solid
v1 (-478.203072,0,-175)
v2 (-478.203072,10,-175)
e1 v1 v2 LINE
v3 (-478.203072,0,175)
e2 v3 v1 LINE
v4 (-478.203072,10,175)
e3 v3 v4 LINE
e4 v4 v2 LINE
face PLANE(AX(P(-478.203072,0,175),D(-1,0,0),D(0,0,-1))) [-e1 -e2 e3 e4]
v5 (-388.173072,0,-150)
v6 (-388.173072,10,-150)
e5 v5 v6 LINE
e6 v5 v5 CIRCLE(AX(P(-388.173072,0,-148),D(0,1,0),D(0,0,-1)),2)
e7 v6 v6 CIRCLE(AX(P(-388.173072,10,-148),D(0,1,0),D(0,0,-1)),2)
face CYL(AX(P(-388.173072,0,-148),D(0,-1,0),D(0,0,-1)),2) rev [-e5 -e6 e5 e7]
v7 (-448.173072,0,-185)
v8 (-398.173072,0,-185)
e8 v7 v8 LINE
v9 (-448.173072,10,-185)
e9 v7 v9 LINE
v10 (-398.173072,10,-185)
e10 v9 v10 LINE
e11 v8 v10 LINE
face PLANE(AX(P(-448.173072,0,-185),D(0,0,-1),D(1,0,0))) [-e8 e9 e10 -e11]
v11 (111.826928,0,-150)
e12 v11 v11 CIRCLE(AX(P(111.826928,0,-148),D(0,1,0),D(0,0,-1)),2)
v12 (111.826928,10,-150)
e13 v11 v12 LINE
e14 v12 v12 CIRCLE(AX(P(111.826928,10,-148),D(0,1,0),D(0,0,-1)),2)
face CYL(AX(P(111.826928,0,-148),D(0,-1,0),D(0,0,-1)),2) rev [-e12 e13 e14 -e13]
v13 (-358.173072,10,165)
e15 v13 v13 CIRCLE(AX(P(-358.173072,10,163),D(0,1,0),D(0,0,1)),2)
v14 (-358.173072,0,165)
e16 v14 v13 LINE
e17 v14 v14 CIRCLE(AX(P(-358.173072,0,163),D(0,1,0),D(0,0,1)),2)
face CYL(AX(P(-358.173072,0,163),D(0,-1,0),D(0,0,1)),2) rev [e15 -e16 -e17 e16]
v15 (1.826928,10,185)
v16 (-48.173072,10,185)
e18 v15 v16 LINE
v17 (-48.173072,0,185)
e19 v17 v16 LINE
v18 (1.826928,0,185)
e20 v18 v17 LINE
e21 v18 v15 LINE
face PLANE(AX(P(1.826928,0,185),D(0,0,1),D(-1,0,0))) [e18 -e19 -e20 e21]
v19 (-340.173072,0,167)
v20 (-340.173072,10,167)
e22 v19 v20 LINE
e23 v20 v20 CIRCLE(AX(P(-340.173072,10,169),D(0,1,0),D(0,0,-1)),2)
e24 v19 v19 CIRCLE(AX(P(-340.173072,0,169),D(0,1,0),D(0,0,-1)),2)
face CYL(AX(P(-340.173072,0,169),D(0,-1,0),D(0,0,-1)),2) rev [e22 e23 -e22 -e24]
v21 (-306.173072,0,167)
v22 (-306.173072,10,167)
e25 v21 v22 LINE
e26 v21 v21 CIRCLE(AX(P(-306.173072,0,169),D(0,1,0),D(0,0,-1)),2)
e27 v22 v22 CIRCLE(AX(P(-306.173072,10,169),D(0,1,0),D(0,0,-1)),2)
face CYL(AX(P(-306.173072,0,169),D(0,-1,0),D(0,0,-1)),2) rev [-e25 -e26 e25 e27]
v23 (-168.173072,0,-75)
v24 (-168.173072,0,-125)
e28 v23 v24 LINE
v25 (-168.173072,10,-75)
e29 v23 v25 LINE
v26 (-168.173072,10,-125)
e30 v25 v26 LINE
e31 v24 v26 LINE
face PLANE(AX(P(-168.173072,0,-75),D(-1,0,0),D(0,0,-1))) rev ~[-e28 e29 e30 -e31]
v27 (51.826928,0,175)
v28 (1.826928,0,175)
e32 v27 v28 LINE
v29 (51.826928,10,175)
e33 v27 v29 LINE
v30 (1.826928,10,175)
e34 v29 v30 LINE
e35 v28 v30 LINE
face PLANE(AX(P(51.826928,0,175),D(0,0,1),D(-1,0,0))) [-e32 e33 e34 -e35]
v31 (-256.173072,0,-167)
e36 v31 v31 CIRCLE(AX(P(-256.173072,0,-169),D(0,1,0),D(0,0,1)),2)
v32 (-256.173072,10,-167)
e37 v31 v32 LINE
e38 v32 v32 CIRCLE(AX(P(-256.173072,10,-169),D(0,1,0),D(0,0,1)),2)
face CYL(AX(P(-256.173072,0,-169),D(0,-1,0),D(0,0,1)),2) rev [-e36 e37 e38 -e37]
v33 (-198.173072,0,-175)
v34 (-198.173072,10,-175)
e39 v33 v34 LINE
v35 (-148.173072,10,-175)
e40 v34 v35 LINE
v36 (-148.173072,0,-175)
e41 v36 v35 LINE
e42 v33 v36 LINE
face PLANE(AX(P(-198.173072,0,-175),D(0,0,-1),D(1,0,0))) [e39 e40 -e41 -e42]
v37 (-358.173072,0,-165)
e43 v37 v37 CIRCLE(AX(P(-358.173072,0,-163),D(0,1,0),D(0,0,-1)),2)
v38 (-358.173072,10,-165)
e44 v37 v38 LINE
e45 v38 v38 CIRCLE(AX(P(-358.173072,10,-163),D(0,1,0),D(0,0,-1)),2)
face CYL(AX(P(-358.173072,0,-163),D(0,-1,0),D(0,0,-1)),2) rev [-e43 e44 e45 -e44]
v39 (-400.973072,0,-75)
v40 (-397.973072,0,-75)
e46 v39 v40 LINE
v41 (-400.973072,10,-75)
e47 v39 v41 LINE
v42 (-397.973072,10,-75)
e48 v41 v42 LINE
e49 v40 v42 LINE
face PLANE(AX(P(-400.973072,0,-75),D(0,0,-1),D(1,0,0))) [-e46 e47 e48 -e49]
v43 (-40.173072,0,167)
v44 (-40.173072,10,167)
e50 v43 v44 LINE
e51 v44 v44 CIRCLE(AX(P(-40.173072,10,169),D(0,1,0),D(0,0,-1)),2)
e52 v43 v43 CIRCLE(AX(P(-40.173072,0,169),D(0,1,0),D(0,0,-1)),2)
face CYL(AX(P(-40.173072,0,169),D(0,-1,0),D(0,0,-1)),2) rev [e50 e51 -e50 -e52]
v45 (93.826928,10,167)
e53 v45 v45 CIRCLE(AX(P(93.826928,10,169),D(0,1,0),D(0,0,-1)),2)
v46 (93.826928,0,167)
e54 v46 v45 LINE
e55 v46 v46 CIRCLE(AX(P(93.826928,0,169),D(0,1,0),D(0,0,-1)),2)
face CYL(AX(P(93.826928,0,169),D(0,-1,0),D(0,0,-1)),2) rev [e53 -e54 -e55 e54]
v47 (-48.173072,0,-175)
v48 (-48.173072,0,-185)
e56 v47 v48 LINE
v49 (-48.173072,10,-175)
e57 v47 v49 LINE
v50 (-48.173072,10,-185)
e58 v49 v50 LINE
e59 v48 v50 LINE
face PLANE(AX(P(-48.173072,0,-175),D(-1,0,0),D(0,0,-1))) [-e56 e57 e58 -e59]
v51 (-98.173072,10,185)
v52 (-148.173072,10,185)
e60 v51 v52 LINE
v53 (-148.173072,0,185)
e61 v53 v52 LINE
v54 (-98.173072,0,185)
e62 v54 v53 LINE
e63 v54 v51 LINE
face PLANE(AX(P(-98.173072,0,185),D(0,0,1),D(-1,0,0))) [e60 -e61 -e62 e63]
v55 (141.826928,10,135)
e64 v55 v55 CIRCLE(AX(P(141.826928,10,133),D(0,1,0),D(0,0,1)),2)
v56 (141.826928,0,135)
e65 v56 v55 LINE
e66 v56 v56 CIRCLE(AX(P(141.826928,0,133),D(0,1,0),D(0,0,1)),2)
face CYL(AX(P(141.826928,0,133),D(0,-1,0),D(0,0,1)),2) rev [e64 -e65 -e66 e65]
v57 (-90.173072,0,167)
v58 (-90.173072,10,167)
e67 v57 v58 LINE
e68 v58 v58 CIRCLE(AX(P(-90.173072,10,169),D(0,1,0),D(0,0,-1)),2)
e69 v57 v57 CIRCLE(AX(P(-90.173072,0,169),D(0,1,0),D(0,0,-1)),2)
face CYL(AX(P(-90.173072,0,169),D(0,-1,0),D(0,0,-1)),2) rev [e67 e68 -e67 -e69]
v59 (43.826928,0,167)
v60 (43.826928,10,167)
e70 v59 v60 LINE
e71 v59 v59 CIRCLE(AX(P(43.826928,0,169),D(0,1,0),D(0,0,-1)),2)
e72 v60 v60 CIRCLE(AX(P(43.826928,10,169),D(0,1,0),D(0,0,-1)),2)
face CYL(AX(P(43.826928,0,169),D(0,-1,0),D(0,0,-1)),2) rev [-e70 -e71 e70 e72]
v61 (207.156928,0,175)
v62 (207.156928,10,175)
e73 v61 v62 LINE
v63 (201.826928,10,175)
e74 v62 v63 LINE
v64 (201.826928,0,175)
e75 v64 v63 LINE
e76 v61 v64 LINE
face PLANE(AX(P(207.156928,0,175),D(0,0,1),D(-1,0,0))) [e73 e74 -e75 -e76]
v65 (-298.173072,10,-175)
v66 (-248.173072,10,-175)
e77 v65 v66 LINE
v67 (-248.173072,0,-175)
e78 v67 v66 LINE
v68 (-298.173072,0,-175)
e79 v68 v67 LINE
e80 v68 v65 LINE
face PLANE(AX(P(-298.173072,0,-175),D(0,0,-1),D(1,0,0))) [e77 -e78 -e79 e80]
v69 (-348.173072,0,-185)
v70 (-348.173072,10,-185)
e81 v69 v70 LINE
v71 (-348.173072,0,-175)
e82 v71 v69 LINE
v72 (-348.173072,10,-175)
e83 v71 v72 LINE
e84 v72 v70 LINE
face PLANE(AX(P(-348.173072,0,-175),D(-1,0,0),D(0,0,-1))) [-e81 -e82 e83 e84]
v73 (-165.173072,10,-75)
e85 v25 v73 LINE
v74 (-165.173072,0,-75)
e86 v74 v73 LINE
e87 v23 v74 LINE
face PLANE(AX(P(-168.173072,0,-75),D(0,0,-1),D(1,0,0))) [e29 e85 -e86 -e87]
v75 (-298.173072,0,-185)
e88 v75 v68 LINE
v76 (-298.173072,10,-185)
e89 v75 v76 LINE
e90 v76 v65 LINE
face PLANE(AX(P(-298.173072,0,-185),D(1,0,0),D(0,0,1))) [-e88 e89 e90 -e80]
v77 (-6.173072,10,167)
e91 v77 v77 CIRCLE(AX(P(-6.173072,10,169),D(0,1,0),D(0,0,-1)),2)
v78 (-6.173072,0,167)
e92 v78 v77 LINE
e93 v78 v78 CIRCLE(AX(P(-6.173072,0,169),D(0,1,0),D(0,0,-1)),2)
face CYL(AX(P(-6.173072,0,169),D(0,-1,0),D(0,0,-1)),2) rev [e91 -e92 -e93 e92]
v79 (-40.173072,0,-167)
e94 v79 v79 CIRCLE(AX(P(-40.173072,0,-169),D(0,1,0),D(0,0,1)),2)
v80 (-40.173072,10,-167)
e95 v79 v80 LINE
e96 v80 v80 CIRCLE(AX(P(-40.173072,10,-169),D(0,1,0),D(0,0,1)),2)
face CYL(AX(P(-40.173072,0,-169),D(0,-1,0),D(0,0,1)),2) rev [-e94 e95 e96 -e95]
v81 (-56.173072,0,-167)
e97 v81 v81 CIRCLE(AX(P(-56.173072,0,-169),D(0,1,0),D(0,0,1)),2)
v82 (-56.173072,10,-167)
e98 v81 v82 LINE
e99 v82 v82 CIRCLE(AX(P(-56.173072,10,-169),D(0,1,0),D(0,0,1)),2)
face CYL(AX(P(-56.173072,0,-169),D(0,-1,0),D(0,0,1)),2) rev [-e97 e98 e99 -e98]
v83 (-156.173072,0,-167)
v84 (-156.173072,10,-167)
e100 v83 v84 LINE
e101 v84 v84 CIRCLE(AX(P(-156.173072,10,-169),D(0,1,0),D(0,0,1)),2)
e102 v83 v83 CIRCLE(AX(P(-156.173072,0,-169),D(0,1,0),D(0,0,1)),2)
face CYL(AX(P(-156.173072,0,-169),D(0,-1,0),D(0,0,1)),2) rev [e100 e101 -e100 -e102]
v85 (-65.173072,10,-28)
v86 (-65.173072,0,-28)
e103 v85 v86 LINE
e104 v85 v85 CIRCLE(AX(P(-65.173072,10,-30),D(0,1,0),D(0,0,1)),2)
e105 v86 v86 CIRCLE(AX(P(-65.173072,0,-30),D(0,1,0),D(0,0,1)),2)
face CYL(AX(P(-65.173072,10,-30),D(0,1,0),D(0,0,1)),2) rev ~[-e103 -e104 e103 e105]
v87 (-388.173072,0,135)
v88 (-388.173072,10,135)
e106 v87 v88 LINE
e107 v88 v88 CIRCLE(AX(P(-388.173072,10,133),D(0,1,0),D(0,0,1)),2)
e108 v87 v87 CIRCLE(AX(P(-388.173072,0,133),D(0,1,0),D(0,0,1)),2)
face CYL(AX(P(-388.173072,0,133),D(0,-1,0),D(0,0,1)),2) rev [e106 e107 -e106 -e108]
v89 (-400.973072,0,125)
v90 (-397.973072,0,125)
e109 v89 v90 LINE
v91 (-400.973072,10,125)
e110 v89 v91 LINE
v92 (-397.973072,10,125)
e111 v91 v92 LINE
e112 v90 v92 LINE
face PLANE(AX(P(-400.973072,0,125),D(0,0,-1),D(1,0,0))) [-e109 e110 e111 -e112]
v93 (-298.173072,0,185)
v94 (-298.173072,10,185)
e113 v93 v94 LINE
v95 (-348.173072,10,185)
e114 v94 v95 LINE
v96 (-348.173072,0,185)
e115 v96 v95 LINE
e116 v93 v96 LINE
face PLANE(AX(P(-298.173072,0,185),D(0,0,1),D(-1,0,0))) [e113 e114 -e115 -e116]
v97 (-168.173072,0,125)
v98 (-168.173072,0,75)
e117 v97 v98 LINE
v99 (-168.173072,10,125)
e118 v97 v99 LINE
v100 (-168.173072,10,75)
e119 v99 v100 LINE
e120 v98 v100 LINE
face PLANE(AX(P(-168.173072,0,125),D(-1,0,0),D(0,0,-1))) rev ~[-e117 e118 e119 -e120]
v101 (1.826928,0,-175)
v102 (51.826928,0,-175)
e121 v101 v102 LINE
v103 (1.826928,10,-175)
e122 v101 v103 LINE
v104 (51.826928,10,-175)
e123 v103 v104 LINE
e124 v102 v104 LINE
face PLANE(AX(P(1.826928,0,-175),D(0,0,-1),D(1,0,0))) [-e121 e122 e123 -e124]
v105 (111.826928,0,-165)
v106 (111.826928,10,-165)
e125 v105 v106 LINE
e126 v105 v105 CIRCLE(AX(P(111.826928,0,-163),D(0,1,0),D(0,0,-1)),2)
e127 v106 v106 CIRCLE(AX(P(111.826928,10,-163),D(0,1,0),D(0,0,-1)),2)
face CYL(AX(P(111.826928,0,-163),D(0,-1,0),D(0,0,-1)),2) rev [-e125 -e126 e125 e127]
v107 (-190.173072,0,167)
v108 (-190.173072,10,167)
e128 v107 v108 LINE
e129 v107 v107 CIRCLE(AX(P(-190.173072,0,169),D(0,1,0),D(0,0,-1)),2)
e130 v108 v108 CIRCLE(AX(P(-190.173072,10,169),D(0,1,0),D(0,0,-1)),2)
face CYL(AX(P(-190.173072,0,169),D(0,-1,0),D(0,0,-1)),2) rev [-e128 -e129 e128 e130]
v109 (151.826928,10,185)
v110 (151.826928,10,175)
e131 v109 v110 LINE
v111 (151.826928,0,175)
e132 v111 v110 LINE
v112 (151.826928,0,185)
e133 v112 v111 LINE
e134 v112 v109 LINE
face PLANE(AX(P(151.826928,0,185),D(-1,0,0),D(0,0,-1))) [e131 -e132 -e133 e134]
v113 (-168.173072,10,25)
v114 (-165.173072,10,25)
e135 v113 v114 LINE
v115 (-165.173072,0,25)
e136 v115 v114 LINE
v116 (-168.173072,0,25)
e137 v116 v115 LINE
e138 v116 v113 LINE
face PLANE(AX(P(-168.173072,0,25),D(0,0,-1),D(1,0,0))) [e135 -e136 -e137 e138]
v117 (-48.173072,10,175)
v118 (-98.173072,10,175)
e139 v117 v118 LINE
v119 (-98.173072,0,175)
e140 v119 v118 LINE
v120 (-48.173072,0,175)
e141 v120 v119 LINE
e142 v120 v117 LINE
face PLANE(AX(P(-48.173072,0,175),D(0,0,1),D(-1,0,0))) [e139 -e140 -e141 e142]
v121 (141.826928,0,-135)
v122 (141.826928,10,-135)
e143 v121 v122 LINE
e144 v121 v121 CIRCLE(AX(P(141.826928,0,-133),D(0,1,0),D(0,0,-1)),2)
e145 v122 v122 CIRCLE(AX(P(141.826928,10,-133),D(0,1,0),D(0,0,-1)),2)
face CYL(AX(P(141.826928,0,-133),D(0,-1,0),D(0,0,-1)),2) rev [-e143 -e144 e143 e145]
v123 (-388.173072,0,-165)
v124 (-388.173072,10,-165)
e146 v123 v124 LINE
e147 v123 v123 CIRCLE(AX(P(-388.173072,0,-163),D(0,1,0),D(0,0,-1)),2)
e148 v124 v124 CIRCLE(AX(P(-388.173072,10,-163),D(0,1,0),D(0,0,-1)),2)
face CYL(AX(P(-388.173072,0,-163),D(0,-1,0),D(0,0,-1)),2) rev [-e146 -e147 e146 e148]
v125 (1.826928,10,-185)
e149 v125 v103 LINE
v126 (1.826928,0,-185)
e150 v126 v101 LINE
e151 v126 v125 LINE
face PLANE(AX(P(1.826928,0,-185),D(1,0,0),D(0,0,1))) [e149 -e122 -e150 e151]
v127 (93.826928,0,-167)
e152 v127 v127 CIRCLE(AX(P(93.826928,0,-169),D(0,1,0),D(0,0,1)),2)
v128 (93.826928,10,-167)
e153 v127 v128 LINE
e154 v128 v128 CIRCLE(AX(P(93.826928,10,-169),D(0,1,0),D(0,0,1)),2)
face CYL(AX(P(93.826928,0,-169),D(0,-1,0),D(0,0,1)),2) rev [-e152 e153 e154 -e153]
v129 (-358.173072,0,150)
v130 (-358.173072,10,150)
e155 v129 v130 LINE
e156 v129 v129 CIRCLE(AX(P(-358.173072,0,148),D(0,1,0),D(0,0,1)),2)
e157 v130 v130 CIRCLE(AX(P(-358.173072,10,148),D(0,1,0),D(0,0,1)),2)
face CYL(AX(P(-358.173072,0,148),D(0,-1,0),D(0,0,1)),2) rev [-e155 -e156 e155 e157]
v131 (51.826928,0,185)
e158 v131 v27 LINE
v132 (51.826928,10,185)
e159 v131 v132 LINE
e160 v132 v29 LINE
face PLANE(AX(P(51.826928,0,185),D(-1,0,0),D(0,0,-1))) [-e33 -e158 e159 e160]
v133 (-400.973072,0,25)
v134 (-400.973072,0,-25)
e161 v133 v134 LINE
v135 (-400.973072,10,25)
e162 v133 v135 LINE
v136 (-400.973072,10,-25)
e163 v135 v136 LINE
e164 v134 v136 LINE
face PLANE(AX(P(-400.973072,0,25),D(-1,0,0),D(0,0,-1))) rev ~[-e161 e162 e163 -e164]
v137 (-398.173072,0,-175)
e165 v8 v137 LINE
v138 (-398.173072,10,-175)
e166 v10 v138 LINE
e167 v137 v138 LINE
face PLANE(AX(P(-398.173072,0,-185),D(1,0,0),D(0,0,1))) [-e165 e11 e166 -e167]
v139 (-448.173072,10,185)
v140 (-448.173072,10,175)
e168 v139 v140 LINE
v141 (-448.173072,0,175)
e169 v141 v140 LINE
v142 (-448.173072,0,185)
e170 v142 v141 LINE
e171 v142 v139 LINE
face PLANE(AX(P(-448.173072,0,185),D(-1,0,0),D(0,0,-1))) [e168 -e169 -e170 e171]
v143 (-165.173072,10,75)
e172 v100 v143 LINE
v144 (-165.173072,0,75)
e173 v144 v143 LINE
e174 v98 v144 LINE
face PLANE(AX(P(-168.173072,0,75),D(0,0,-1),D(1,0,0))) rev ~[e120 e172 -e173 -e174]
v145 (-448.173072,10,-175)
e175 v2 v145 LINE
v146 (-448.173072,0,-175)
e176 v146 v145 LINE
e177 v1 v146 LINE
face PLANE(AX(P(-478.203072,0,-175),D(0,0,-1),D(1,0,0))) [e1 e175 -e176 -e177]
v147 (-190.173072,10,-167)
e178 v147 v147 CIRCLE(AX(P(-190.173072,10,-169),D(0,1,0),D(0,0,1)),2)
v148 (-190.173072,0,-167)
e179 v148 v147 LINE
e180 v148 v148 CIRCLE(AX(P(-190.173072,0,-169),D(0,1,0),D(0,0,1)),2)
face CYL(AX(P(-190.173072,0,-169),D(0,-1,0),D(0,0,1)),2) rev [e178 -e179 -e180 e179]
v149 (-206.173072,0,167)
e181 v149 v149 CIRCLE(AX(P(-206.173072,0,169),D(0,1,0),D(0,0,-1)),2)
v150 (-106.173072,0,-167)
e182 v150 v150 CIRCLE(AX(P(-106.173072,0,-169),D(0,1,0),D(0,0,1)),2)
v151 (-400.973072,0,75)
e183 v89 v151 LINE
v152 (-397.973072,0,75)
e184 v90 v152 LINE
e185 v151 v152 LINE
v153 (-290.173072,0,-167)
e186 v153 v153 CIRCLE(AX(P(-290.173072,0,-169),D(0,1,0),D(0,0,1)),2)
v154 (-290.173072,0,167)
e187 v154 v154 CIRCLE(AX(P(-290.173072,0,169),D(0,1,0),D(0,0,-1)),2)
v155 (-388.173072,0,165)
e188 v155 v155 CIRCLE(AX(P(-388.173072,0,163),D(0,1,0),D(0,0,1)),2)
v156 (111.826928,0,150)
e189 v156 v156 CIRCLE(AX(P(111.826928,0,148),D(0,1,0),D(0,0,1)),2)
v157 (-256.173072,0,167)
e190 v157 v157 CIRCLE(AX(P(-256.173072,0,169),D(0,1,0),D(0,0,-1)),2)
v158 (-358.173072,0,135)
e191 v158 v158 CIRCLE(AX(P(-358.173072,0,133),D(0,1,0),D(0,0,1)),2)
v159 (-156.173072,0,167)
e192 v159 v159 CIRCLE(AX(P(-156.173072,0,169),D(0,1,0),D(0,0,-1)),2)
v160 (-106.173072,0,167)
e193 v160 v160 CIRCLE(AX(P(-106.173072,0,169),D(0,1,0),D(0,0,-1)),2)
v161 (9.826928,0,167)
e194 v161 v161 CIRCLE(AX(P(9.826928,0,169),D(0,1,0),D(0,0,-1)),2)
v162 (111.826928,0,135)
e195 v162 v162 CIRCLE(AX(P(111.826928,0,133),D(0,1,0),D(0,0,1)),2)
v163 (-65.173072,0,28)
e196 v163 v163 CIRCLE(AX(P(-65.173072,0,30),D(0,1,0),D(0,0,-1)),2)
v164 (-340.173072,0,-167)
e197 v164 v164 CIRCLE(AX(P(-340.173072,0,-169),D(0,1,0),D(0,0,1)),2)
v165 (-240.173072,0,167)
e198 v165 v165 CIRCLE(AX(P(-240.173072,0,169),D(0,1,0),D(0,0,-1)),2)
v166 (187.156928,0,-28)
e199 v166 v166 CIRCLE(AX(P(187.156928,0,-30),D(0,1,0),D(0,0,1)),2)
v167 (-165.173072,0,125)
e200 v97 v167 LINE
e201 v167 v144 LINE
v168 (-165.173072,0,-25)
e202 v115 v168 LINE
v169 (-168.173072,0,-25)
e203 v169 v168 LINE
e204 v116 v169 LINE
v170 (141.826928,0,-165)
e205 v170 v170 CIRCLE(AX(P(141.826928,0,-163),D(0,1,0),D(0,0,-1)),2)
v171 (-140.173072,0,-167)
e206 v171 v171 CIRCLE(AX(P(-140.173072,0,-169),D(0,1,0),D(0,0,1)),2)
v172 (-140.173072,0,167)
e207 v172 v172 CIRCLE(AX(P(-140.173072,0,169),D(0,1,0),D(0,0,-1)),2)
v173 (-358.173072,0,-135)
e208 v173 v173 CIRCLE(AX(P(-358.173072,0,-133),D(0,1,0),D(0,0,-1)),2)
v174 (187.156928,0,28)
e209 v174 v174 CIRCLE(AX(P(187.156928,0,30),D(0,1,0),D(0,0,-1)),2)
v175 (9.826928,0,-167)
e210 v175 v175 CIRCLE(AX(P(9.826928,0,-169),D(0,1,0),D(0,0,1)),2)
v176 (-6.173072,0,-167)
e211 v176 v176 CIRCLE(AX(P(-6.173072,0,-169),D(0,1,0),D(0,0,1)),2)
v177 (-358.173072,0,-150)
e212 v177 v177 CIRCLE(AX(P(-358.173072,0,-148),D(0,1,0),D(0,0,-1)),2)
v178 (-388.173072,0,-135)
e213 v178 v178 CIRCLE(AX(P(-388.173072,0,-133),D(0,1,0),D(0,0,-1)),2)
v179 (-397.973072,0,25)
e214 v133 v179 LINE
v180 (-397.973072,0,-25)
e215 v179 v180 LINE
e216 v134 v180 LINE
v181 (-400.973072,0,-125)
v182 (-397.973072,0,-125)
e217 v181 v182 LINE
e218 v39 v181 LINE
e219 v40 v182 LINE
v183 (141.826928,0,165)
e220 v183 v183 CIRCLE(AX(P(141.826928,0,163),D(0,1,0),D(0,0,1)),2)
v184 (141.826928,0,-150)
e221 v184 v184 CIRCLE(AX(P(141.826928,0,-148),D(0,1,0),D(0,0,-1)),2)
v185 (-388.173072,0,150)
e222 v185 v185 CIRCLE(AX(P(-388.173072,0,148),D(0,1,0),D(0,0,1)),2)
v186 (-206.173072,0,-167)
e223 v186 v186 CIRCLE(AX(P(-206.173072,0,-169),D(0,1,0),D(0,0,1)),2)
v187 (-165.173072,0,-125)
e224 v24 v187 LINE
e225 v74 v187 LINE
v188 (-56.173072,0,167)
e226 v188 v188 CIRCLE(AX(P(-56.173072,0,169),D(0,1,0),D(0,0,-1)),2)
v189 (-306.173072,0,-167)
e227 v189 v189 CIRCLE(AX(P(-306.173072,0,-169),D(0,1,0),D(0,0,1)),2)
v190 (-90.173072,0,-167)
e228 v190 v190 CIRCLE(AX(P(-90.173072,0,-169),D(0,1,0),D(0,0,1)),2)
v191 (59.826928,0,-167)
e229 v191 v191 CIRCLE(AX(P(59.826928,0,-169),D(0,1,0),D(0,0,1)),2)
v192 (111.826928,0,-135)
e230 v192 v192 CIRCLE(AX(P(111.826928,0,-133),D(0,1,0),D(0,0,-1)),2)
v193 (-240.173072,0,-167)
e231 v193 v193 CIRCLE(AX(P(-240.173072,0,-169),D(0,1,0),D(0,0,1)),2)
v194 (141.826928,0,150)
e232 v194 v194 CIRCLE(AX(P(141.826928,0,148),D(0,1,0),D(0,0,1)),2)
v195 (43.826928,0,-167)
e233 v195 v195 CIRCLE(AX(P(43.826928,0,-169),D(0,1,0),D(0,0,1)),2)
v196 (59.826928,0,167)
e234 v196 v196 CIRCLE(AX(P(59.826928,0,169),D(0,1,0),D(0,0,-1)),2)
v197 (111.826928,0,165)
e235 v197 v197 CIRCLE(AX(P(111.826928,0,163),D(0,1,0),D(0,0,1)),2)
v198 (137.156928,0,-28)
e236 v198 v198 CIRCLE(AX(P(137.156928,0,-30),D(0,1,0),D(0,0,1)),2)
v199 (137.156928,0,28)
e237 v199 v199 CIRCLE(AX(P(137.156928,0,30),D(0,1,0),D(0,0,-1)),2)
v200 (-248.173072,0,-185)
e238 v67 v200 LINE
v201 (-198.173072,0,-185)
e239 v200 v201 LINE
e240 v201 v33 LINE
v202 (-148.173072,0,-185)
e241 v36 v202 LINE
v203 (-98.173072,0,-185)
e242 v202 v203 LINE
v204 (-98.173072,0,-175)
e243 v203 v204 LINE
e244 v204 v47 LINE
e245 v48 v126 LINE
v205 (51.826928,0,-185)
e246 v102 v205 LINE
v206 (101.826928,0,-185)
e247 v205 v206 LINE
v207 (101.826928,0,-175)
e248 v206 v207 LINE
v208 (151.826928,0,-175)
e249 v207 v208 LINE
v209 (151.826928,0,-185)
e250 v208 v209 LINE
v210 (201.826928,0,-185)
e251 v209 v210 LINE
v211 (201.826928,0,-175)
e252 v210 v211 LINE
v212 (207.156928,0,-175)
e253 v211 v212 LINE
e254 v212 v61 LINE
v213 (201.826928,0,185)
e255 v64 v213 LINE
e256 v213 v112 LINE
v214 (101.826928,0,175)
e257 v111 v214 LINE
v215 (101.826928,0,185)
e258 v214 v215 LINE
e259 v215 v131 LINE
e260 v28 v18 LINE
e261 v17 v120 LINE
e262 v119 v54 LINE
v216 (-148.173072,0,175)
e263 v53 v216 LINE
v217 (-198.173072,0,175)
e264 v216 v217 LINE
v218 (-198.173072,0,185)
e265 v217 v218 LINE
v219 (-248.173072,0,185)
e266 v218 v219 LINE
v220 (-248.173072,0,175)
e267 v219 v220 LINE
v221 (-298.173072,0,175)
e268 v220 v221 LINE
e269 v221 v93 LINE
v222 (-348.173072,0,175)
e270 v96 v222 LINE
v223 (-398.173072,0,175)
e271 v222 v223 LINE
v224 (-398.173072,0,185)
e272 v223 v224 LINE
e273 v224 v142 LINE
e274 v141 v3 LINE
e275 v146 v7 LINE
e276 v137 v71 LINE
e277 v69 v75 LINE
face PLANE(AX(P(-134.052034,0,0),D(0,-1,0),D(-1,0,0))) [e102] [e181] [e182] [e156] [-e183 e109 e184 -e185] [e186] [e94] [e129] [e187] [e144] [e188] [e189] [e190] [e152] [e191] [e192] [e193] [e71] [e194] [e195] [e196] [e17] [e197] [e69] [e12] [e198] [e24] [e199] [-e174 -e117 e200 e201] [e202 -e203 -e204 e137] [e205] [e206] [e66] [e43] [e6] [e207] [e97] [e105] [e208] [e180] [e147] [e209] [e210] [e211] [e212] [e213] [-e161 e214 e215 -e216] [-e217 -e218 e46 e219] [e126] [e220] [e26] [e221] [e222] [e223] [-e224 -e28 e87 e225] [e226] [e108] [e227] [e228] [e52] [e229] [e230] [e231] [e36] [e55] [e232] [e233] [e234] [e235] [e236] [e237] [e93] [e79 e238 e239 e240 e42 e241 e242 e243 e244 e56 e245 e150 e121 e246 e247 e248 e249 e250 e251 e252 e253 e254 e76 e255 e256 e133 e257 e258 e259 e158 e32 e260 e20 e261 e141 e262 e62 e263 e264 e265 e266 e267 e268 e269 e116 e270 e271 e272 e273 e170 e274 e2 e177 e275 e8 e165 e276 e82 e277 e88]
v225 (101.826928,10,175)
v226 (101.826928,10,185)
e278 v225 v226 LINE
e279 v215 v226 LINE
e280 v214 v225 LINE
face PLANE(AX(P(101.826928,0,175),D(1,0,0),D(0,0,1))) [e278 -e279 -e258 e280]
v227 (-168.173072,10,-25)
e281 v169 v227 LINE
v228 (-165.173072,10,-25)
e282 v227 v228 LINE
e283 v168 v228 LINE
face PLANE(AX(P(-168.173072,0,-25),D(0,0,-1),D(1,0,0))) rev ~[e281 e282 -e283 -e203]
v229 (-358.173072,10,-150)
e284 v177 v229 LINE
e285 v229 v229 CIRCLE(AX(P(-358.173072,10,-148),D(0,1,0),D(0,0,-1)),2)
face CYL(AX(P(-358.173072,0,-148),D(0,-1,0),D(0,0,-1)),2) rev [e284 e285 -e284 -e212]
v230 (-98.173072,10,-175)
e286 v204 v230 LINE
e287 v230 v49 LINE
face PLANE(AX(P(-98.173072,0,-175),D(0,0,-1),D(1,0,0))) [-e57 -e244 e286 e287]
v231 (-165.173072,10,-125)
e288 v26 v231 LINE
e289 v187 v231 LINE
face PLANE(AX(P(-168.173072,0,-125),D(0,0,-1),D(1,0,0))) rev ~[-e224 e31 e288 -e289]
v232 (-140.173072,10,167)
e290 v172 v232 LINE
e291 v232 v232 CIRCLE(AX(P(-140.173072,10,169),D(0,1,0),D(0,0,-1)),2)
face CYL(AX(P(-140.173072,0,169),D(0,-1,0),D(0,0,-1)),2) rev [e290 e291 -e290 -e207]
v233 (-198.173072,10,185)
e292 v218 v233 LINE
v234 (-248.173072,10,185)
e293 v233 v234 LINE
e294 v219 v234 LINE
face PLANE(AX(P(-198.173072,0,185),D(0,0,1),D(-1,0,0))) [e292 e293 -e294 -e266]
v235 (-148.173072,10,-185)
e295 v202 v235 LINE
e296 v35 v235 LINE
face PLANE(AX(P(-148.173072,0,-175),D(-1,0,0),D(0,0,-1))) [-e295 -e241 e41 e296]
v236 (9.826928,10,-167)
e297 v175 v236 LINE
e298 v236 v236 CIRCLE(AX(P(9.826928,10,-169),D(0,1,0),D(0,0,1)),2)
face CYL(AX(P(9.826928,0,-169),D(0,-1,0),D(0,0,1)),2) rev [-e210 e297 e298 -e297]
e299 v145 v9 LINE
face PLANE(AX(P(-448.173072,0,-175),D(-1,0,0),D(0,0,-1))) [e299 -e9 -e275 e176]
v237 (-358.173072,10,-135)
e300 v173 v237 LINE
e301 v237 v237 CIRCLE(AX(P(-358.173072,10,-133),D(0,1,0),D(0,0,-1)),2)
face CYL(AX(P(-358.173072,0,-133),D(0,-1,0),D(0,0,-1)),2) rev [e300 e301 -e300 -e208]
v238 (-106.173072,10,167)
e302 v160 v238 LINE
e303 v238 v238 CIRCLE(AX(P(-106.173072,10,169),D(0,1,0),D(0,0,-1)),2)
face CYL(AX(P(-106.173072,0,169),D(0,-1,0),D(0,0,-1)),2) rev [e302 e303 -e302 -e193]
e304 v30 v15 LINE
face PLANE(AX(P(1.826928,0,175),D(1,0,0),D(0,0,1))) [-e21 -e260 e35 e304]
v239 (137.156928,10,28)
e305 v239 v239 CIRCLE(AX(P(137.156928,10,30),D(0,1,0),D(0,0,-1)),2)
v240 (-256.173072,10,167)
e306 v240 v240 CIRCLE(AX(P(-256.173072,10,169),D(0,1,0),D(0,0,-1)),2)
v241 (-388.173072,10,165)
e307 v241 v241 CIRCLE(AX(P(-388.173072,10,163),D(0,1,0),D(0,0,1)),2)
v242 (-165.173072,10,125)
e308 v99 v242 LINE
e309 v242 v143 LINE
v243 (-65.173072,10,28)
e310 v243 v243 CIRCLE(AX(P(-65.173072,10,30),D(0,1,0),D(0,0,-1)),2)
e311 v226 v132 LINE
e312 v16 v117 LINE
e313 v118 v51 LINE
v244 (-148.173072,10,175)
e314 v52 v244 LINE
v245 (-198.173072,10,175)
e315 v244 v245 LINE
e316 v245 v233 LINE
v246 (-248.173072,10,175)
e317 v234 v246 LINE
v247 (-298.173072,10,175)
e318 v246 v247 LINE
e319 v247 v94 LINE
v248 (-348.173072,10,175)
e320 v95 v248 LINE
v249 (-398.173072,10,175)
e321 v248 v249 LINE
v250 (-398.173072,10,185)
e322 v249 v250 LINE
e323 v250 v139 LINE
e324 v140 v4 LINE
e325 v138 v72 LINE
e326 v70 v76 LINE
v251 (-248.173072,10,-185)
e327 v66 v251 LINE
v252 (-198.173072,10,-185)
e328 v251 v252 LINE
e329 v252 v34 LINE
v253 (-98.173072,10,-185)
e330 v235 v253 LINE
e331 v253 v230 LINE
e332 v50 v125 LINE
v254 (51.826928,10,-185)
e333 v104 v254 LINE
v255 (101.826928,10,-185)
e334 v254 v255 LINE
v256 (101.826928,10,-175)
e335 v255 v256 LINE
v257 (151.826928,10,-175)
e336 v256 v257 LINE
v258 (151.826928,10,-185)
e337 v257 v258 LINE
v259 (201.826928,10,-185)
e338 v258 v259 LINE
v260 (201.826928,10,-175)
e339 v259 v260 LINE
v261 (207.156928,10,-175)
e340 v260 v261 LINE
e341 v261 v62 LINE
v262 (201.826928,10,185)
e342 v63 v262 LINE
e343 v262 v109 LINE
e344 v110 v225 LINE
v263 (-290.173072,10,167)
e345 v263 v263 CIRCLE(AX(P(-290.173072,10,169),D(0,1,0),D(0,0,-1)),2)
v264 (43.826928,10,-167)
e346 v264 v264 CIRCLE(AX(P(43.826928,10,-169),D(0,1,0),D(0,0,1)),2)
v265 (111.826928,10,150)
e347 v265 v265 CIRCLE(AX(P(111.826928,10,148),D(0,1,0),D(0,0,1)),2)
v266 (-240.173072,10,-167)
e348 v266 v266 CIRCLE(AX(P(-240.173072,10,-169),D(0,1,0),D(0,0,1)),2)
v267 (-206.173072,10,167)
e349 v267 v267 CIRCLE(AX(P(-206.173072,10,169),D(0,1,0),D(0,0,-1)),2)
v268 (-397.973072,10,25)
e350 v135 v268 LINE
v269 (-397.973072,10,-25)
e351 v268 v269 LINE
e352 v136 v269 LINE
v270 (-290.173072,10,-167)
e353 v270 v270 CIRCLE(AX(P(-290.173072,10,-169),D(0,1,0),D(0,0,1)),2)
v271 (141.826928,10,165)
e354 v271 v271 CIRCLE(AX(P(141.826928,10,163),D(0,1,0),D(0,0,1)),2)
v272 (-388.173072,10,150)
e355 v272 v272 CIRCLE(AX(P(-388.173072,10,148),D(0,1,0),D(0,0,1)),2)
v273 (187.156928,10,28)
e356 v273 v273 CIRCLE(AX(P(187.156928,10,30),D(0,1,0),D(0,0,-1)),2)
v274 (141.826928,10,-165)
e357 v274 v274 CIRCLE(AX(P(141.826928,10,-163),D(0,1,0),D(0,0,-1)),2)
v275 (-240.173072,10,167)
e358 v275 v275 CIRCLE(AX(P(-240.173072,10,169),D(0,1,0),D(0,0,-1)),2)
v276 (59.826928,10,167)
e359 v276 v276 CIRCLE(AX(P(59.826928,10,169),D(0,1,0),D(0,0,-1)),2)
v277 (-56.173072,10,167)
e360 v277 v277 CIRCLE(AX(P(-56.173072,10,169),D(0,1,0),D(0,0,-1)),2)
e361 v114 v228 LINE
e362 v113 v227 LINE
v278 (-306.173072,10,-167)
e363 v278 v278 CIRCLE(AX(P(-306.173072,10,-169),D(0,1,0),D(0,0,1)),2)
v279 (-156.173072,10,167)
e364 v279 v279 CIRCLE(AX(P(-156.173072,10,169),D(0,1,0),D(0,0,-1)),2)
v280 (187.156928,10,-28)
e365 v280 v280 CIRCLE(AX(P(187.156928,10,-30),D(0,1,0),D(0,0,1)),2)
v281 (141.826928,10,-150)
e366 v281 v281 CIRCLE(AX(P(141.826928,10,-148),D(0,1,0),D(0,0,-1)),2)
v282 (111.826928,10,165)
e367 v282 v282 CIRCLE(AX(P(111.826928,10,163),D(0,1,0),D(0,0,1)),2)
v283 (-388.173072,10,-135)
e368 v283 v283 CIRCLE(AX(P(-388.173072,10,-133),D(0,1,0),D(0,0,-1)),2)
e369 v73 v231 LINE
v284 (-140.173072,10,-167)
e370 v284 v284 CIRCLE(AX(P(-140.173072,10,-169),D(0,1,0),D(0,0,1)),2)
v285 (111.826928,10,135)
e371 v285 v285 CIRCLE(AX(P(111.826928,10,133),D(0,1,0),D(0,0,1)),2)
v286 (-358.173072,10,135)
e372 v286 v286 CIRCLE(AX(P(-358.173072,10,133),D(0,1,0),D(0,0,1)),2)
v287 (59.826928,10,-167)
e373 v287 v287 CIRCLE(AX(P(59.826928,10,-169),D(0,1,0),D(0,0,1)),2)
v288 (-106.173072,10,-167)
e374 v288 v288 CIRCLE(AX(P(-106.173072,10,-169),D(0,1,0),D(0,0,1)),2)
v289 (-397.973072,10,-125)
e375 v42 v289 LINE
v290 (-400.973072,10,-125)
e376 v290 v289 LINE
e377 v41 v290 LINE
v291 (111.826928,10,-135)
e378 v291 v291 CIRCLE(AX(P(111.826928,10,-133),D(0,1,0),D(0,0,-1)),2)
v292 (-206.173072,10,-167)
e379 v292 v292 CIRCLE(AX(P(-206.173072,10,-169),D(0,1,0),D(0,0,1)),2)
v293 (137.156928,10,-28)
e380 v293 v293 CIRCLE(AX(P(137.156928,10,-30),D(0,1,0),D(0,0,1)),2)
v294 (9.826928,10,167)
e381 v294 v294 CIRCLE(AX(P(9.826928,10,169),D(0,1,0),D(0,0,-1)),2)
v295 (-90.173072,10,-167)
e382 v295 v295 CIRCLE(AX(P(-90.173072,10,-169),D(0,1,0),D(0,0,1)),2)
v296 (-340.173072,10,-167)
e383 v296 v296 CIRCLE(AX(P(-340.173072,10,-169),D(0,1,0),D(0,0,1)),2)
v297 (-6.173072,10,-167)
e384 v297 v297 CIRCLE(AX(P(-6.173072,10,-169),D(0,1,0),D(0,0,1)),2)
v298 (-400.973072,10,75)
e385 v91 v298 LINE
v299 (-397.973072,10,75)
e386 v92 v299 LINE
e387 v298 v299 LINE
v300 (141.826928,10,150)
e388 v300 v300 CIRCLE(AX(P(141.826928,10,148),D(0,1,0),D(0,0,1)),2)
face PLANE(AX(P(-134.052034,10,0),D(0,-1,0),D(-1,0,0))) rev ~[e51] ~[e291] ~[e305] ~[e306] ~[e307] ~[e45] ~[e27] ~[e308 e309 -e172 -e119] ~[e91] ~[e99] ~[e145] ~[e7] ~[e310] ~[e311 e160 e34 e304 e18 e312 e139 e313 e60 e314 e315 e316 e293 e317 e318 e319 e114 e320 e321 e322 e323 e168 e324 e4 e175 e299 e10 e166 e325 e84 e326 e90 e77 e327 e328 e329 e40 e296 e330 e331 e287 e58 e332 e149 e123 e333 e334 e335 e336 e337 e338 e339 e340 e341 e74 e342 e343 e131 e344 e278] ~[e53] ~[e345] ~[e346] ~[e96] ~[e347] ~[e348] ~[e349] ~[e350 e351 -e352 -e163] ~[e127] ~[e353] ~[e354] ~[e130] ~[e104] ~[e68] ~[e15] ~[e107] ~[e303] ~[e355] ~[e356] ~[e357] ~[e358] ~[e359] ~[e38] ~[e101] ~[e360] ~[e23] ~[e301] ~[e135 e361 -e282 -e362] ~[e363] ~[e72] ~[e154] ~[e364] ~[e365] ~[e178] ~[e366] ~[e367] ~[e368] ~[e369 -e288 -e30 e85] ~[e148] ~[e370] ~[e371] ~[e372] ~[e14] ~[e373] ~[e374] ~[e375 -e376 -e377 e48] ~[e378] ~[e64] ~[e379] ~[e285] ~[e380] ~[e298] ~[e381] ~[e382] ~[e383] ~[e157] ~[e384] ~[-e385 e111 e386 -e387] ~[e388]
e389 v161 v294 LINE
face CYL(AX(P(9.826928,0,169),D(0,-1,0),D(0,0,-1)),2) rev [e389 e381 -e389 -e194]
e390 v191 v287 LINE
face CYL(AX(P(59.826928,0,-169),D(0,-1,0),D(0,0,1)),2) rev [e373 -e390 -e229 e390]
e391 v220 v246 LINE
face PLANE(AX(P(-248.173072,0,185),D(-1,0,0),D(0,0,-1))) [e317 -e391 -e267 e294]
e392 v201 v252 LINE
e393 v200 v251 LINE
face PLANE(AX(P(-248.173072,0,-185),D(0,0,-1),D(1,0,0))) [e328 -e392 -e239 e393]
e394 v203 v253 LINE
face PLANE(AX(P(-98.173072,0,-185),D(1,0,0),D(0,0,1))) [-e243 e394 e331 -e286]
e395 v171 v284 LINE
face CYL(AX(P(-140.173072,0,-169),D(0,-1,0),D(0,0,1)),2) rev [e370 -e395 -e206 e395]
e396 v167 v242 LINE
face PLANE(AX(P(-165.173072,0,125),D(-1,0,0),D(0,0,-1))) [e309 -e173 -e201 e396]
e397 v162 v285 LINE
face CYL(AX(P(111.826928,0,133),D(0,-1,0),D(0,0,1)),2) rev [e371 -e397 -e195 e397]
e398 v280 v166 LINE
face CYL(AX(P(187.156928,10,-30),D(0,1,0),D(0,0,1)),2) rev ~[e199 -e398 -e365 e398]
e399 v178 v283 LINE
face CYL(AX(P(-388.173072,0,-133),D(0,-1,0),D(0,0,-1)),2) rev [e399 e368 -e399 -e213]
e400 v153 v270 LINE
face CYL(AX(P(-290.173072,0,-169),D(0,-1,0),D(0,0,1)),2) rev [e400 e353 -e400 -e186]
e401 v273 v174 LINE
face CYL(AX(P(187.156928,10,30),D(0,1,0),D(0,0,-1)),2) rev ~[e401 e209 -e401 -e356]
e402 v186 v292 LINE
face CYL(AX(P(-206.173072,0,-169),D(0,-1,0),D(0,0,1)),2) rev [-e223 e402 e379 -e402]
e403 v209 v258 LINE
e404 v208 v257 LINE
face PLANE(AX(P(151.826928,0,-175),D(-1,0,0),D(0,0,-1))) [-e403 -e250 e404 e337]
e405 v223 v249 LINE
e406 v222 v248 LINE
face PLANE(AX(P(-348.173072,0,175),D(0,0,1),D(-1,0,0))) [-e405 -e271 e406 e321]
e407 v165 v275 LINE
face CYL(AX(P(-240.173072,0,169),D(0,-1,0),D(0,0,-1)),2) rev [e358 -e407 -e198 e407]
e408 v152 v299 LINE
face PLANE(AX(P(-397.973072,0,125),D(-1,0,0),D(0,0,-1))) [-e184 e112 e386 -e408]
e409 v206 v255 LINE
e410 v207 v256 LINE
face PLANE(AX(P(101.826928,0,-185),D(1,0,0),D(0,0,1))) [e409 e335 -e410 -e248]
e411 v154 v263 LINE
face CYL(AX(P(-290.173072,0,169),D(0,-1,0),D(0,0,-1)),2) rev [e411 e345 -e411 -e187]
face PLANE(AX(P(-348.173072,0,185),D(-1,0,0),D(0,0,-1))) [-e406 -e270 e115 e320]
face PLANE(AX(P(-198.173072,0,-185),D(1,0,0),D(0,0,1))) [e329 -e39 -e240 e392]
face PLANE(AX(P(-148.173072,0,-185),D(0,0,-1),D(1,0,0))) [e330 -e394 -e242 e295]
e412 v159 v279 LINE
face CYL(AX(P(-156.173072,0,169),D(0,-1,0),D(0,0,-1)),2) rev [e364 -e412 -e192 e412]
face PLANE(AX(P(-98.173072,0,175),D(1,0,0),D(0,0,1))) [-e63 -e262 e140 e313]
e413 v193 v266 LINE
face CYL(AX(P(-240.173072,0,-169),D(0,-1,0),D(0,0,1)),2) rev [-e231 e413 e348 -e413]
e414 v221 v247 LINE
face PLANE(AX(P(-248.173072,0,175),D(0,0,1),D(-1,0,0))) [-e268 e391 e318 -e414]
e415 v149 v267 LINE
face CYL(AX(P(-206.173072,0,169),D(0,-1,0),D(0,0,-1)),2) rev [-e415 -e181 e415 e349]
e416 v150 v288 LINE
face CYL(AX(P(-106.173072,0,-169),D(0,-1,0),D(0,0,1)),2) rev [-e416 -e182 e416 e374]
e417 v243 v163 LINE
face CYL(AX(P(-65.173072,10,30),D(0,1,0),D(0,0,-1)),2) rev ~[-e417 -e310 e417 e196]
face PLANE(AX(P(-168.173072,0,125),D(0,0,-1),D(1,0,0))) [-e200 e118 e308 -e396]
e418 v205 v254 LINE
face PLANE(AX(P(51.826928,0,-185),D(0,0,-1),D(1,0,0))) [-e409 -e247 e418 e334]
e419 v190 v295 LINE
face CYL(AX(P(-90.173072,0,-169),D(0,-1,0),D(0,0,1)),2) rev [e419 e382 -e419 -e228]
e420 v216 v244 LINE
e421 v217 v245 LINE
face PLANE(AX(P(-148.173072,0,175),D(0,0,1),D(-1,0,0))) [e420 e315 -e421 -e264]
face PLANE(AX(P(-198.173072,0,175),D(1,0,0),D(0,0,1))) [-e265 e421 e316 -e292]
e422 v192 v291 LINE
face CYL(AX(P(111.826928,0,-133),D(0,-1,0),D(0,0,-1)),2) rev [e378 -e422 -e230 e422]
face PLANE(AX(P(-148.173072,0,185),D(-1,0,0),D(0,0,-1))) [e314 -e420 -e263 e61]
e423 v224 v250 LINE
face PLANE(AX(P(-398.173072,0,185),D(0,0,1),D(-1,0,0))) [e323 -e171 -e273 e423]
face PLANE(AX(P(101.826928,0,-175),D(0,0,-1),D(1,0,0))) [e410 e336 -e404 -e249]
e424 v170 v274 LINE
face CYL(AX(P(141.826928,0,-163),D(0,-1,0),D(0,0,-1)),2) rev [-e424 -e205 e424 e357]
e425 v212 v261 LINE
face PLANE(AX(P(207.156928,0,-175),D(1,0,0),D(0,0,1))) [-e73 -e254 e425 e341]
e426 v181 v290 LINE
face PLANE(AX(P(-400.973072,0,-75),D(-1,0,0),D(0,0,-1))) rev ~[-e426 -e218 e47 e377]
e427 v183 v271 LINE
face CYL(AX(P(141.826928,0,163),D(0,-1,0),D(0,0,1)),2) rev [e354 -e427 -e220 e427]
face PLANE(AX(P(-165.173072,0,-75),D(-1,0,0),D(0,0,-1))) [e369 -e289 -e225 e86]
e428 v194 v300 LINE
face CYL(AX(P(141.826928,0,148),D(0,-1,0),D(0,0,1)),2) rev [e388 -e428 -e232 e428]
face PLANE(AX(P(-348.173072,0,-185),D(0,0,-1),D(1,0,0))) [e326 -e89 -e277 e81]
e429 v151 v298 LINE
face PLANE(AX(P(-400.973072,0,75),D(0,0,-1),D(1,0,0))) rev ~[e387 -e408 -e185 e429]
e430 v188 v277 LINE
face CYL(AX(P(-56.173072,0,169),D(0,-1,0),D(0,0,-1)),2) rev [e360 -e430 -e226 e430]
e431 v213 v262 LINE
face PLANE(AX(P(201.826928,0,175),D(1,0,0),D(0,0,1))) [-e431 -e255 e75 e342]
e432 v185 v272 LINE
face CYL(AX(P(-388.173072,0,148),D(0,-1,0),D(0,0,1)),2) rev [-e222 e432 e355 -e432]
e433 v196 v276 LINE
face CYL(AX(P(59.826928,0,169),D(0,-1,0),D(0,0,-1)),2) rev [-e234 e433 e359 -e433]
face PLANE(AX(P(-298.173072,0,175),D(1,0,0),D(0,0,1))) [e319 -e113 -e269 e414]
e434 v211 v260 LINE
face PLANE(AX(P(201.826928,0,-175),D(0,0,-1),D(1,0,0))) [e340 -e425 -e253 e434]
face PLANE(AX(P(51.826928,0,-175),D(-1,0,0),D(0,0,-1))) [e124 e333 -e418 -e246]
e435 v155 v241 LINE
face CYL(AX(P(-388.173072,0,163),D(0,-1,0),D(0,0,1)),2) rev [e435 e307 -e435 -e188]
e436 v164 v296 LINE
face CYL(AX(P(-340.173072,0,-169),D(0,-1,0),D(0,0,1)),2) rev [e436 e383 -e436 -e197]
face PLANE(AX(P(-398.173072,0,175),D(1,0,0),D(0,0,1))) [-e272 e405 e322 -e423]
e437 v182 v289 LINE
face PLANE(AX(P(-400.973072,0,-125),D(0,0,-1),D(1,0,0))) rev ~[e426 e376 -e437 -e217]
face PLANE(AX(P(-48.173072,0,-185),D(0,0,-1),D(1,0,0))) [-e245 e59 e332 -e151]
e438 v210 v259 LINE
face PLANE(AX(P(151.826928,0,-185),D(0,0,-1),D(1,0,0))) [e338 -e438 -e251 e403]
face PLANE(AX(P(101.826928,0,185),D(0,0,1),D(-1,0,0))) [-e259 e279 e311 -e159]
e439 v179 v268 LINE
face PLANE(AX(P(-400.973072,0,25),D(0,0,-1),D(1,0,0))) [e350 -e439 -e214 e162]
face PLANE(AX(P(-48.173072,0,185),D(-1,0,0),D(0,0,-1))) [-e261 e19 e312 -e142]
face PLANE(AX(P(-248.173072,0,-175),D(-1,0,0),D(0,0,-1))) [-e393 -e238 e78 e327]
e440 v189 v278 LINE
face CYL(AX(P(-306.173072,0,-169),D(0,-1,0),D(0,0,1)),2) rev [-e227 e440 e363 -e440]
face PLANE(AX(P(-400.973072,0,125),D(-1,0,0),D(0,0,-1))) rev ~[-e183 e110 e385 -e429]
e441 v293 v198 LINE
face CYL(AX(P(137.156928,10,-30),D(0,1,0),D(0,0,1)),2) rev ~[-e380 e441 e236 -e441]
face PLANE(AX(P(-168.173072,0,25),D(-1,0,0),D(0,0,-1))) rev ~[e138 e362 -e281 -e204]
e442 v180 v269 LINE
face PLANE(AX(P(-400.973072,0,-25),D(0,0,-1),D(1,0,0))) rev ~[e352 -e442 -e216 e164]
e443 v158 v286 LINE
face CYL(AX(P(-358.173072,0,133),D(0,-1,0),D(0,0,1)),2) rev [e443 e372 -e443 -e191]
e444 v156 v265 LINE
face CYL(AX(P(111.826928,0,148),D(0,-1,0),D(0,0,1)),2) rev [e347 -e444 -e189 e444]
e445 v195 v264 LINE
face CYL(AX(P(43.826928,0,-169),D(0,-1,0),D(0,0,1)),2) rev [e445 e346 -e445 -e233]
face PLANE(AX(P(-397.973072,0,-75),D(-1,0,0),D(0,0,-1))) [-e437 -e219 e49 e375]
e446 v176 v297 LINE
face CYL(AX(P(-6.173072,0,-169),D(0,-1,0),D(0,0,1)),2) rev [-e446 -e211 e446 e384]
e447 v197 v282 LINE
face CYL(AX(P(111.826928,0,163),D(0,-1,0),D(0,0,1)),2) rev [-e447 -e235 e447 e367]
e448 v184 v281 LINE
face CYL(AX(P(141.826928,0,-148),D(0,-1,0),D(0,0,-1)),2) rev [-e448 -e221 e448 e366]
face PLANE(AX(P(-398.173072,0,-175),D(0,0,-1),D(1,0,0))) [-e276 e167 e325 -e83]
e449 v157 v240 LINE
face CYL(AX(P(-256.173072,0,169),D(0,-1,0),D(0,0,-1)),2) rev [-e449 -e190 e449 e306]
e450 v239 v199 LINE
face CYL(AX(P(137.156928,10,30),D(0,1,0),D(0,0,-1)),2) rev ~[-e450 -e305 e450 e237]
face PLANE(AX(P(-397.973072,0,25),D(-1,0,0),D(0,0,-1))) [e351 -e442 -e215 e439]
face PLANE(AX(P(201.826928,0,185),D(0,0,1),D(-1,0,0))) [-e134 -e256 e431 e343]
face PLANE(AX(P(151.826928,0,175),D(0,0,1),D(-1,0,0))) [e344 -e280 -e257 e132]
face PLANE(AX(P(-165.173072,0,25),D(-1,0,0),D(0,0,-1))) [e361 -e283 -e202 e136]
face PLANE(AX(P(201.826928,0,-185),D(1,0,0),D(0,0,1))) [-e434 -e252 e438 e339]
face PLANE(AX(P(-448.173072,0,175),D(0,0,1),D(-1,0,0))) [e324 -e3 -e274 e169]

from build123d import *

# Parameters (mm, degrees)
SKETCH_1_R          = 2
SKETCH_1_W          = 3
SKETCH_1_H          = 50
EXTRUDE_1_DEPTH     = 10
SKETCH_2_R          = 2
CUT_EXTRUDE_1_DEPTH = 513.83835495


with BuildPart() as part:
    # 스케치1 → 보스-돌출1 (new body)
    with BuildSketch(Plane(origin=(0, 0, 0), x_dir=(1, 0, 0), z_dir=(0, 1, 0))):
        Polygon((-478.203072248, 175), (-448.173072248, 175), (-448.173072248, 185), (-398.173072248, 185), (-398.173072248, 175), (-348.173072248, 175), (-348.173072248, 185), (-298.173072248, 185), (-298.173072248, 175), (-248.173072248, 175), (-248.173072248, 185), (-198.173072248, 185), (-198.173072248, 175), (-148.173072248, 175), (-148.173072248, 185), (-98.173072248, 185), (-98.173072248, 175), (-48.173072248, 175), (-48.173072248, 185), (1.826927752, 185), (1.826927752, 175), (51.826927752, 175), (51.826927752, 185), (101.826927752, 185), (101.826927752, 175), (151.826927752, 175), (151.826927752, 185), (201.826927752, 185), (201.826927752, 175), (207.156927752, 175), (207.156927752, -175), (201.826927752, -175), (201.826927752, -185), (151.826927752, -185), (151.826927752, -175), (101.826927752, -175), (101.826927752, -185), (51.826927752, -185), (51.826927752, -175), (1.826927752, -175), (1.826927752, -185), (-48.173072248, -185), (-48.173072248, -175), (-98.173072248, -175), (-98.173072248, -185), (-148.173072248, -185), (-148.173072248, -175), (-198.173072248, -175), (-198.173072248, -185), (-248.173072248, -185), (-248.173072248, -175), (-298.173072248, -175), (-298.173072248, -185), (-348.173072248, -185), (-348.173072248, -175), (-398.173072248, -175), (-398.173072248, -185), (-448.173072248, -185), (-448.173072248, -175), (-478.203072248, -175), align=None)
        with Locations(Location((-340.173072248, 169, 0), (0, 0, 270))):
            Circle(SKETCH_1_R, mode=Mode.SUBTRACT)
        with Locations(Location((-306.173072248, 169, 0), (0, 0, 270))):
            Circle(SKETCH_1_R, mode=Mode.SUBTRACT)
        with Locations(Location((-290.173072248, 169, 0), (0, 0, 270))):
            Circle(SKETCH_1_R, mode=Mode.SUBTRACT)
        with Locations(Location((-256.173072248, 169, 0), (0, 0, 270))):
            Circle(SKETCH_1_R, mode=Mode.SUBTRACT)
        with Locations(Location((-240.173072248, 169, 0), (0, 0, 270))):
            Circle(SKETCH_1_R, mode=Mode.SUBTRACT)
        with Locations(Location((-206.173072248, 169, 0), (0, 0, 270))):
            Circle(SKETCH_1_R, mode=Mode.SUBTRACT)
        with Locations(Location((-190.173072248, 169, 0), (0, 0, 270))):
            Circle(SKETCH_1_R, mode=Mode.SUBTRACT)
        with Locations(Location((-156.173072248, 169, 0), (0, 0, 270))):
            Circle(SKETCH_1_R, mode=Mode.SUBTRACT)
        with Locations(Location((-140.173072248, 169, 0), (0, 0, 270))):
            Circle(SKETCH_1_R, mode=Mode.SUBTRACT)
        with Locations(Location((-106.173072248, 169, 0), (0, 0, 270))):
            Circle(SKETCH_1_R, mode=Mode.SUBTRACT)
        with Locations(Location((-90.173072248, 169, 0), (0, 0, 270))):
            Circle(SKETCH_1_R, mode=Mode.SUBTRACT)
        with Locations(Location((-56.173072248, 169, 0), (0, 0, 270))):
            Circle(SKETCH_1_R, mode=Mode.SUBTRACT)
        with Locations(Location((-40.173072248, 169, 0), (0, 0, 270))):
            Circle(SKETCH_1_R, mode=Mode.SUBTRACT)
        with Locations(Location((-6.173072248, 169, 0), (0, 0, 270))):
            Circle(SKETCH_1_R, mode=Mode.SUBTRACT)
        with Locations(Location((9.826927752, 169, 0), (0, 0, 270))):
            Circle(SKETCH_1_R, mode=Mode.SUBTRACT)
        with Locations(Location((43.826927752, 169, 0), (0, 0, 270))):
            Circle(SKETCH_1_R, mode=Mode.SUBTRACT)
        with Locations(Location((59.826927752, 169, 0), (0, 0, 270))):
            Circle(SKETCH_1_R, mode=Mode.SUBTRACT)
        with Locations(Location((93.826927752, 169, 0), (0, 0, 270))):
            Circle(SKETCH_1_R, mode=Mode.SUBTRACT)
        with Locations(Location((93.826927752, -169, 0), (0, 0, 90))):
            Circle(SKETCH_1_R, mode=Mode.SUBTRACT)
        with Locations(Location((59.826927752, -169, 0), (0, 0, 90))):
            Circle(SKETCH_1_R, mode=Mode.SUBTRACT)
        with Locations(Location((43.826927752, -169, 0), (0, 0, 90))):
            Circle(SKETCH_1_R, mode=Mode.SUBTRACT)
        with Locations(Location((9.826927752, -169, 0), (0, 0, 90))):
            Circle(SKETCH_1_R, mode=Mode.SUBTRACT)
        with Locations(Location((-6.173072248, -169, 0), (0, 0, 90))):
            Circle(SKETCH_1_R, mode=Mode.SUBTRACT)
        with Locations(Location((-40.173072248, -169, 0), (0, 0, 90))):
            Circle(SKETCH_1_R, mode=Mode.SUBTRACT)
        with Locations(Location((-56.173072248, -169, 0), (0, 0, 90))):
            Circle(SKETCH_1_R, mode=Mode.SUBTRACT)
        with Locations(Location((-90.173072248, -169, 0), (0, 0, 90))):
            Circle(SKETCH_1_R, mode=Mode.SUBTRACT)
        with Locations(Location((-106.173072248, -169, 0), (0, 0, 90))):
            Circle(SKETCH_1_R, mode=Mode.SUBTRACT)
        with Locations(Location((-140.173072248, -169, 0), (0, 0, 90))):
            Circle(SKETCH_1_R, mode=Mode.SUBTRACT)
        with Locations(Location((-156.173072248, -169, 0), (0, 0, 90))):
            Circle(SKETCH_1_R, mode=Mode.SUBTRACT)
        with Locations(Location((-190.173072248, -169, 0), (0, 0, 90))):
            Circle(SKETCH_1_R, mode=Mode.SUBTRACT)
        with Locations(Location((-206.173072248, -169, 0), (0, 0, 90))):
            Circle(SKETCH_1_R, mode=Mode.SUBTRACT)
        with Locations(Location((-240.173072248, -169, 0), (0, 0, 90))):
            Circle(SKETCH_1_R, mode=Mode.SUBTRACT)
        with Locations(Location((-256.173072248, -169, 0), (0, 0, 90))):
            Circle(SKETCH_1_R, mode=Mode.SUBTRACT)
        with Locations(Location((-290.173072248, -169, 0), (0, 0, 90))):
            Circle(SKETCH_1_R, mode=Mode.SUBTRACT)
        with Locations(Location((-306.173072248, -169, 0), (0, 0, 90))):
            Circle(SKETCH_1_R, mode=Mode.SUBTRACT)
        with Locations(Location((-340.173072248, -169, 0), (0, 0, 90))):
            Circle(SKETCH_1_R, mode=Mode.SUBTRACT)
        with Locations(Location((-388.173072248, -163, 0), (0, 0, 270))):
            Circle(SKETCH_1_R, mode=Mode.SUBTRACT)
        with Locations(Location((-358.173072248, -163, 0), (0, 0, 270))):
            Circle(SKETCH_1_R, mode=Mode.SUBTRACT)
        with Locations(Location((-388.173072248, -148, 0), (0, 0, 270))):
            Circle(SKETCH_1_R, mode=Mode.SUBTRACT)
        with Locations(Location((-358.173072248, -148, 0), (0, 0, 270))):
            Circle(SKETCH_1_R, mode=Mode.SUBTRACT)
        with Locations(Location((-388.173072248, -133, 0), (0, 0, 270))):
            Circle(SKETCH_1_R, mode=Mode.SUBTRACT)
        with Locations(Location((-358.173072248, -133, 0), (0, 0, 270))):
            Circle(SKETCH_1_R, mode=Mode.SUBTRACT)
        with Locations(Location((-358.173072248, 163, 0), (0, 0, 90))):
            Circle(SKETCH_1_R, mode=Mode.SUBTRACT)
        with Locations(Location((-388.173072248, 163, 0), (0, 0, 90))):
            Circle(SKETCH_1_R, mode=Mode.SUBTRACT)
        with Locations(Location((-388.173072248, 148, 0), (0, 0, 90))):
            Circle(SKETCH_1_R, mode=Mode.SUBTRACT)
        with Locations(Location((-358.173072248, 148, 0), (0, 0, 90))):
            Circle(SKETCH_1_R, mode=Mode.SUBTRACT)
        with Locations(Location((-358.173072248, 133, 0), (0, 0, 90))):
            Circle(SKETCH_1_R, mode=Mode.SUBTRACT)
        with Locations(Location((-388.173072248, 133, 0), (0, 0, 90))):
            Circle(SKETCH_1_R, mode=Mode.SUBTRACT)
        with Locations(Location((111.826927752, -163, 0), (0, 0, 270))):
            Circle(SKETCH_1_R, mode=Mode.SUBTRACT)
        with Locations(Location((141.826927752, -163, 0), (0, 0, 270))):
            Circle(SKETCH_1_R, mode=Mode.SUBTRACT)
        with Locations(Location((111.826927752, -148, 0), (0, 0, 270))):
            Circle(SKETCH_1_R, mode=Mode.SUBTRACT)
        with Locations(Location((141.826927752, -148, 0), (0, 0, 270))):
            Circle(SKETCH_1_R, mode=Mode.SUBTRACT)
        with Locations(Location((111.826927752, -133, 0), (0, 0, 270))):
            Circle(SKETCH_1_R, mode=Mode.SUBTRACT)
        with Locations(Location((141.826927752, -133, 0), (0, 0, 270))):
            Circle(SKETCH_1_R, mode=Mode.SUBTRACT)
        with Locations(Location((141.826927752, 133, 0), (0, 0, 90))):
            Circle(SKETCH_1_R, mode=Mode.SUBTRACT)
        with Locations(Location((141.826927752, 148, 0), (0, 0, 90))):
            Circle(SKETCH_1_R, mode=Mode.SUBTRACT)
        with Locations(Location((141.826927752, 163, 0), (0, 0, 90))):
            Circle(SKETCH_1_R, mode=Mode.SUBTRACT)
        with Locations(Location((111.826927752, 163, 0), (0, 0, 90))):
            Circle(SKETCH_1_R, mode=Mode.SUBTRACT)
        with Locations(Location((111.826927752, 148, 0), (0, 0, 90))):
            Circle(SKETCH_1_R, mode=Mode.SUBTRACT)
        with Locations(Location((111.826927752, 133, 0), (0, 0, 90))):
            Circle(SKETCH_1_R, mode=Mode.SUBTRACT)
        with Locations((-166.673072248, 100)):
            Rectangle(SKETCH_1_W, SKETCH_1_H, mode=Mode.SUBTRACT)
        with Locations((-166.673072248, 0)):
            Rectangle(SKETCH_1_W, SKETCH_1_H, mode=Mode.SUBTRACT)
        with Locations((-166.673072248, -100)):
            Rectangle(SKETCH_1_W, SKETCH_1_H, mode=Mode.SUBTRACT)
        with Locations((-399.473072248, 100)):
            Rectangle(SKETCH_1_W, SKETCH_1_H, mode=Mode.SUBTRACT)
        with Locations((-399.473072248, 0)):
            Rectangle(SKETCH_1_W, SKETCH_1_H, mode=Mode.SUBTRACT)
        with Locations((-399.473072248, -100)):
            Rectangle(SKETCH_1_W, SKETCH_1_H, mode=Mode.SUBTRACT)
    extrude(amount=EXTRUDE_1_DEPTH)

    # 스케치2 → 컷-돌출1 (cut, through all)
    with BuildSketch(Plane(origin=(0, 10, 0), x_dir=(1, 0, 0), z_dir=(0, 1, 0))):
        with Locations(Location((137.156927752, 30, 0), (0, 0, 270))):
            Circle(SKETCH_2_R)
        with Locations(Location((187.156927752, 30, 0), (0, 0, 270))):
            Circle(SKETCH_2_R)
        with Locations(Location((-65.173072248, 30, 0), (0, 0, 270))):
            Circle(SKETCH_2_R)
        with Locations(Location((-65.173072248, -30, 0), (0, 0, 90))):
            Circle(SKETCH_2_R)
        with Locations(Location((187.156927752, -30, 0), (0, 0, 90))):
            Circle(SKETCH_2_R)
        with Locations(Location((137.156927752, -30, 0), (0, 0, 90))):
            Circle(SKETCH_2_R)
    extrude(amount=-CUT_EXTRUDE_1_DEPTH, mode=Mode.SUBTRACT)


solid = part.part
